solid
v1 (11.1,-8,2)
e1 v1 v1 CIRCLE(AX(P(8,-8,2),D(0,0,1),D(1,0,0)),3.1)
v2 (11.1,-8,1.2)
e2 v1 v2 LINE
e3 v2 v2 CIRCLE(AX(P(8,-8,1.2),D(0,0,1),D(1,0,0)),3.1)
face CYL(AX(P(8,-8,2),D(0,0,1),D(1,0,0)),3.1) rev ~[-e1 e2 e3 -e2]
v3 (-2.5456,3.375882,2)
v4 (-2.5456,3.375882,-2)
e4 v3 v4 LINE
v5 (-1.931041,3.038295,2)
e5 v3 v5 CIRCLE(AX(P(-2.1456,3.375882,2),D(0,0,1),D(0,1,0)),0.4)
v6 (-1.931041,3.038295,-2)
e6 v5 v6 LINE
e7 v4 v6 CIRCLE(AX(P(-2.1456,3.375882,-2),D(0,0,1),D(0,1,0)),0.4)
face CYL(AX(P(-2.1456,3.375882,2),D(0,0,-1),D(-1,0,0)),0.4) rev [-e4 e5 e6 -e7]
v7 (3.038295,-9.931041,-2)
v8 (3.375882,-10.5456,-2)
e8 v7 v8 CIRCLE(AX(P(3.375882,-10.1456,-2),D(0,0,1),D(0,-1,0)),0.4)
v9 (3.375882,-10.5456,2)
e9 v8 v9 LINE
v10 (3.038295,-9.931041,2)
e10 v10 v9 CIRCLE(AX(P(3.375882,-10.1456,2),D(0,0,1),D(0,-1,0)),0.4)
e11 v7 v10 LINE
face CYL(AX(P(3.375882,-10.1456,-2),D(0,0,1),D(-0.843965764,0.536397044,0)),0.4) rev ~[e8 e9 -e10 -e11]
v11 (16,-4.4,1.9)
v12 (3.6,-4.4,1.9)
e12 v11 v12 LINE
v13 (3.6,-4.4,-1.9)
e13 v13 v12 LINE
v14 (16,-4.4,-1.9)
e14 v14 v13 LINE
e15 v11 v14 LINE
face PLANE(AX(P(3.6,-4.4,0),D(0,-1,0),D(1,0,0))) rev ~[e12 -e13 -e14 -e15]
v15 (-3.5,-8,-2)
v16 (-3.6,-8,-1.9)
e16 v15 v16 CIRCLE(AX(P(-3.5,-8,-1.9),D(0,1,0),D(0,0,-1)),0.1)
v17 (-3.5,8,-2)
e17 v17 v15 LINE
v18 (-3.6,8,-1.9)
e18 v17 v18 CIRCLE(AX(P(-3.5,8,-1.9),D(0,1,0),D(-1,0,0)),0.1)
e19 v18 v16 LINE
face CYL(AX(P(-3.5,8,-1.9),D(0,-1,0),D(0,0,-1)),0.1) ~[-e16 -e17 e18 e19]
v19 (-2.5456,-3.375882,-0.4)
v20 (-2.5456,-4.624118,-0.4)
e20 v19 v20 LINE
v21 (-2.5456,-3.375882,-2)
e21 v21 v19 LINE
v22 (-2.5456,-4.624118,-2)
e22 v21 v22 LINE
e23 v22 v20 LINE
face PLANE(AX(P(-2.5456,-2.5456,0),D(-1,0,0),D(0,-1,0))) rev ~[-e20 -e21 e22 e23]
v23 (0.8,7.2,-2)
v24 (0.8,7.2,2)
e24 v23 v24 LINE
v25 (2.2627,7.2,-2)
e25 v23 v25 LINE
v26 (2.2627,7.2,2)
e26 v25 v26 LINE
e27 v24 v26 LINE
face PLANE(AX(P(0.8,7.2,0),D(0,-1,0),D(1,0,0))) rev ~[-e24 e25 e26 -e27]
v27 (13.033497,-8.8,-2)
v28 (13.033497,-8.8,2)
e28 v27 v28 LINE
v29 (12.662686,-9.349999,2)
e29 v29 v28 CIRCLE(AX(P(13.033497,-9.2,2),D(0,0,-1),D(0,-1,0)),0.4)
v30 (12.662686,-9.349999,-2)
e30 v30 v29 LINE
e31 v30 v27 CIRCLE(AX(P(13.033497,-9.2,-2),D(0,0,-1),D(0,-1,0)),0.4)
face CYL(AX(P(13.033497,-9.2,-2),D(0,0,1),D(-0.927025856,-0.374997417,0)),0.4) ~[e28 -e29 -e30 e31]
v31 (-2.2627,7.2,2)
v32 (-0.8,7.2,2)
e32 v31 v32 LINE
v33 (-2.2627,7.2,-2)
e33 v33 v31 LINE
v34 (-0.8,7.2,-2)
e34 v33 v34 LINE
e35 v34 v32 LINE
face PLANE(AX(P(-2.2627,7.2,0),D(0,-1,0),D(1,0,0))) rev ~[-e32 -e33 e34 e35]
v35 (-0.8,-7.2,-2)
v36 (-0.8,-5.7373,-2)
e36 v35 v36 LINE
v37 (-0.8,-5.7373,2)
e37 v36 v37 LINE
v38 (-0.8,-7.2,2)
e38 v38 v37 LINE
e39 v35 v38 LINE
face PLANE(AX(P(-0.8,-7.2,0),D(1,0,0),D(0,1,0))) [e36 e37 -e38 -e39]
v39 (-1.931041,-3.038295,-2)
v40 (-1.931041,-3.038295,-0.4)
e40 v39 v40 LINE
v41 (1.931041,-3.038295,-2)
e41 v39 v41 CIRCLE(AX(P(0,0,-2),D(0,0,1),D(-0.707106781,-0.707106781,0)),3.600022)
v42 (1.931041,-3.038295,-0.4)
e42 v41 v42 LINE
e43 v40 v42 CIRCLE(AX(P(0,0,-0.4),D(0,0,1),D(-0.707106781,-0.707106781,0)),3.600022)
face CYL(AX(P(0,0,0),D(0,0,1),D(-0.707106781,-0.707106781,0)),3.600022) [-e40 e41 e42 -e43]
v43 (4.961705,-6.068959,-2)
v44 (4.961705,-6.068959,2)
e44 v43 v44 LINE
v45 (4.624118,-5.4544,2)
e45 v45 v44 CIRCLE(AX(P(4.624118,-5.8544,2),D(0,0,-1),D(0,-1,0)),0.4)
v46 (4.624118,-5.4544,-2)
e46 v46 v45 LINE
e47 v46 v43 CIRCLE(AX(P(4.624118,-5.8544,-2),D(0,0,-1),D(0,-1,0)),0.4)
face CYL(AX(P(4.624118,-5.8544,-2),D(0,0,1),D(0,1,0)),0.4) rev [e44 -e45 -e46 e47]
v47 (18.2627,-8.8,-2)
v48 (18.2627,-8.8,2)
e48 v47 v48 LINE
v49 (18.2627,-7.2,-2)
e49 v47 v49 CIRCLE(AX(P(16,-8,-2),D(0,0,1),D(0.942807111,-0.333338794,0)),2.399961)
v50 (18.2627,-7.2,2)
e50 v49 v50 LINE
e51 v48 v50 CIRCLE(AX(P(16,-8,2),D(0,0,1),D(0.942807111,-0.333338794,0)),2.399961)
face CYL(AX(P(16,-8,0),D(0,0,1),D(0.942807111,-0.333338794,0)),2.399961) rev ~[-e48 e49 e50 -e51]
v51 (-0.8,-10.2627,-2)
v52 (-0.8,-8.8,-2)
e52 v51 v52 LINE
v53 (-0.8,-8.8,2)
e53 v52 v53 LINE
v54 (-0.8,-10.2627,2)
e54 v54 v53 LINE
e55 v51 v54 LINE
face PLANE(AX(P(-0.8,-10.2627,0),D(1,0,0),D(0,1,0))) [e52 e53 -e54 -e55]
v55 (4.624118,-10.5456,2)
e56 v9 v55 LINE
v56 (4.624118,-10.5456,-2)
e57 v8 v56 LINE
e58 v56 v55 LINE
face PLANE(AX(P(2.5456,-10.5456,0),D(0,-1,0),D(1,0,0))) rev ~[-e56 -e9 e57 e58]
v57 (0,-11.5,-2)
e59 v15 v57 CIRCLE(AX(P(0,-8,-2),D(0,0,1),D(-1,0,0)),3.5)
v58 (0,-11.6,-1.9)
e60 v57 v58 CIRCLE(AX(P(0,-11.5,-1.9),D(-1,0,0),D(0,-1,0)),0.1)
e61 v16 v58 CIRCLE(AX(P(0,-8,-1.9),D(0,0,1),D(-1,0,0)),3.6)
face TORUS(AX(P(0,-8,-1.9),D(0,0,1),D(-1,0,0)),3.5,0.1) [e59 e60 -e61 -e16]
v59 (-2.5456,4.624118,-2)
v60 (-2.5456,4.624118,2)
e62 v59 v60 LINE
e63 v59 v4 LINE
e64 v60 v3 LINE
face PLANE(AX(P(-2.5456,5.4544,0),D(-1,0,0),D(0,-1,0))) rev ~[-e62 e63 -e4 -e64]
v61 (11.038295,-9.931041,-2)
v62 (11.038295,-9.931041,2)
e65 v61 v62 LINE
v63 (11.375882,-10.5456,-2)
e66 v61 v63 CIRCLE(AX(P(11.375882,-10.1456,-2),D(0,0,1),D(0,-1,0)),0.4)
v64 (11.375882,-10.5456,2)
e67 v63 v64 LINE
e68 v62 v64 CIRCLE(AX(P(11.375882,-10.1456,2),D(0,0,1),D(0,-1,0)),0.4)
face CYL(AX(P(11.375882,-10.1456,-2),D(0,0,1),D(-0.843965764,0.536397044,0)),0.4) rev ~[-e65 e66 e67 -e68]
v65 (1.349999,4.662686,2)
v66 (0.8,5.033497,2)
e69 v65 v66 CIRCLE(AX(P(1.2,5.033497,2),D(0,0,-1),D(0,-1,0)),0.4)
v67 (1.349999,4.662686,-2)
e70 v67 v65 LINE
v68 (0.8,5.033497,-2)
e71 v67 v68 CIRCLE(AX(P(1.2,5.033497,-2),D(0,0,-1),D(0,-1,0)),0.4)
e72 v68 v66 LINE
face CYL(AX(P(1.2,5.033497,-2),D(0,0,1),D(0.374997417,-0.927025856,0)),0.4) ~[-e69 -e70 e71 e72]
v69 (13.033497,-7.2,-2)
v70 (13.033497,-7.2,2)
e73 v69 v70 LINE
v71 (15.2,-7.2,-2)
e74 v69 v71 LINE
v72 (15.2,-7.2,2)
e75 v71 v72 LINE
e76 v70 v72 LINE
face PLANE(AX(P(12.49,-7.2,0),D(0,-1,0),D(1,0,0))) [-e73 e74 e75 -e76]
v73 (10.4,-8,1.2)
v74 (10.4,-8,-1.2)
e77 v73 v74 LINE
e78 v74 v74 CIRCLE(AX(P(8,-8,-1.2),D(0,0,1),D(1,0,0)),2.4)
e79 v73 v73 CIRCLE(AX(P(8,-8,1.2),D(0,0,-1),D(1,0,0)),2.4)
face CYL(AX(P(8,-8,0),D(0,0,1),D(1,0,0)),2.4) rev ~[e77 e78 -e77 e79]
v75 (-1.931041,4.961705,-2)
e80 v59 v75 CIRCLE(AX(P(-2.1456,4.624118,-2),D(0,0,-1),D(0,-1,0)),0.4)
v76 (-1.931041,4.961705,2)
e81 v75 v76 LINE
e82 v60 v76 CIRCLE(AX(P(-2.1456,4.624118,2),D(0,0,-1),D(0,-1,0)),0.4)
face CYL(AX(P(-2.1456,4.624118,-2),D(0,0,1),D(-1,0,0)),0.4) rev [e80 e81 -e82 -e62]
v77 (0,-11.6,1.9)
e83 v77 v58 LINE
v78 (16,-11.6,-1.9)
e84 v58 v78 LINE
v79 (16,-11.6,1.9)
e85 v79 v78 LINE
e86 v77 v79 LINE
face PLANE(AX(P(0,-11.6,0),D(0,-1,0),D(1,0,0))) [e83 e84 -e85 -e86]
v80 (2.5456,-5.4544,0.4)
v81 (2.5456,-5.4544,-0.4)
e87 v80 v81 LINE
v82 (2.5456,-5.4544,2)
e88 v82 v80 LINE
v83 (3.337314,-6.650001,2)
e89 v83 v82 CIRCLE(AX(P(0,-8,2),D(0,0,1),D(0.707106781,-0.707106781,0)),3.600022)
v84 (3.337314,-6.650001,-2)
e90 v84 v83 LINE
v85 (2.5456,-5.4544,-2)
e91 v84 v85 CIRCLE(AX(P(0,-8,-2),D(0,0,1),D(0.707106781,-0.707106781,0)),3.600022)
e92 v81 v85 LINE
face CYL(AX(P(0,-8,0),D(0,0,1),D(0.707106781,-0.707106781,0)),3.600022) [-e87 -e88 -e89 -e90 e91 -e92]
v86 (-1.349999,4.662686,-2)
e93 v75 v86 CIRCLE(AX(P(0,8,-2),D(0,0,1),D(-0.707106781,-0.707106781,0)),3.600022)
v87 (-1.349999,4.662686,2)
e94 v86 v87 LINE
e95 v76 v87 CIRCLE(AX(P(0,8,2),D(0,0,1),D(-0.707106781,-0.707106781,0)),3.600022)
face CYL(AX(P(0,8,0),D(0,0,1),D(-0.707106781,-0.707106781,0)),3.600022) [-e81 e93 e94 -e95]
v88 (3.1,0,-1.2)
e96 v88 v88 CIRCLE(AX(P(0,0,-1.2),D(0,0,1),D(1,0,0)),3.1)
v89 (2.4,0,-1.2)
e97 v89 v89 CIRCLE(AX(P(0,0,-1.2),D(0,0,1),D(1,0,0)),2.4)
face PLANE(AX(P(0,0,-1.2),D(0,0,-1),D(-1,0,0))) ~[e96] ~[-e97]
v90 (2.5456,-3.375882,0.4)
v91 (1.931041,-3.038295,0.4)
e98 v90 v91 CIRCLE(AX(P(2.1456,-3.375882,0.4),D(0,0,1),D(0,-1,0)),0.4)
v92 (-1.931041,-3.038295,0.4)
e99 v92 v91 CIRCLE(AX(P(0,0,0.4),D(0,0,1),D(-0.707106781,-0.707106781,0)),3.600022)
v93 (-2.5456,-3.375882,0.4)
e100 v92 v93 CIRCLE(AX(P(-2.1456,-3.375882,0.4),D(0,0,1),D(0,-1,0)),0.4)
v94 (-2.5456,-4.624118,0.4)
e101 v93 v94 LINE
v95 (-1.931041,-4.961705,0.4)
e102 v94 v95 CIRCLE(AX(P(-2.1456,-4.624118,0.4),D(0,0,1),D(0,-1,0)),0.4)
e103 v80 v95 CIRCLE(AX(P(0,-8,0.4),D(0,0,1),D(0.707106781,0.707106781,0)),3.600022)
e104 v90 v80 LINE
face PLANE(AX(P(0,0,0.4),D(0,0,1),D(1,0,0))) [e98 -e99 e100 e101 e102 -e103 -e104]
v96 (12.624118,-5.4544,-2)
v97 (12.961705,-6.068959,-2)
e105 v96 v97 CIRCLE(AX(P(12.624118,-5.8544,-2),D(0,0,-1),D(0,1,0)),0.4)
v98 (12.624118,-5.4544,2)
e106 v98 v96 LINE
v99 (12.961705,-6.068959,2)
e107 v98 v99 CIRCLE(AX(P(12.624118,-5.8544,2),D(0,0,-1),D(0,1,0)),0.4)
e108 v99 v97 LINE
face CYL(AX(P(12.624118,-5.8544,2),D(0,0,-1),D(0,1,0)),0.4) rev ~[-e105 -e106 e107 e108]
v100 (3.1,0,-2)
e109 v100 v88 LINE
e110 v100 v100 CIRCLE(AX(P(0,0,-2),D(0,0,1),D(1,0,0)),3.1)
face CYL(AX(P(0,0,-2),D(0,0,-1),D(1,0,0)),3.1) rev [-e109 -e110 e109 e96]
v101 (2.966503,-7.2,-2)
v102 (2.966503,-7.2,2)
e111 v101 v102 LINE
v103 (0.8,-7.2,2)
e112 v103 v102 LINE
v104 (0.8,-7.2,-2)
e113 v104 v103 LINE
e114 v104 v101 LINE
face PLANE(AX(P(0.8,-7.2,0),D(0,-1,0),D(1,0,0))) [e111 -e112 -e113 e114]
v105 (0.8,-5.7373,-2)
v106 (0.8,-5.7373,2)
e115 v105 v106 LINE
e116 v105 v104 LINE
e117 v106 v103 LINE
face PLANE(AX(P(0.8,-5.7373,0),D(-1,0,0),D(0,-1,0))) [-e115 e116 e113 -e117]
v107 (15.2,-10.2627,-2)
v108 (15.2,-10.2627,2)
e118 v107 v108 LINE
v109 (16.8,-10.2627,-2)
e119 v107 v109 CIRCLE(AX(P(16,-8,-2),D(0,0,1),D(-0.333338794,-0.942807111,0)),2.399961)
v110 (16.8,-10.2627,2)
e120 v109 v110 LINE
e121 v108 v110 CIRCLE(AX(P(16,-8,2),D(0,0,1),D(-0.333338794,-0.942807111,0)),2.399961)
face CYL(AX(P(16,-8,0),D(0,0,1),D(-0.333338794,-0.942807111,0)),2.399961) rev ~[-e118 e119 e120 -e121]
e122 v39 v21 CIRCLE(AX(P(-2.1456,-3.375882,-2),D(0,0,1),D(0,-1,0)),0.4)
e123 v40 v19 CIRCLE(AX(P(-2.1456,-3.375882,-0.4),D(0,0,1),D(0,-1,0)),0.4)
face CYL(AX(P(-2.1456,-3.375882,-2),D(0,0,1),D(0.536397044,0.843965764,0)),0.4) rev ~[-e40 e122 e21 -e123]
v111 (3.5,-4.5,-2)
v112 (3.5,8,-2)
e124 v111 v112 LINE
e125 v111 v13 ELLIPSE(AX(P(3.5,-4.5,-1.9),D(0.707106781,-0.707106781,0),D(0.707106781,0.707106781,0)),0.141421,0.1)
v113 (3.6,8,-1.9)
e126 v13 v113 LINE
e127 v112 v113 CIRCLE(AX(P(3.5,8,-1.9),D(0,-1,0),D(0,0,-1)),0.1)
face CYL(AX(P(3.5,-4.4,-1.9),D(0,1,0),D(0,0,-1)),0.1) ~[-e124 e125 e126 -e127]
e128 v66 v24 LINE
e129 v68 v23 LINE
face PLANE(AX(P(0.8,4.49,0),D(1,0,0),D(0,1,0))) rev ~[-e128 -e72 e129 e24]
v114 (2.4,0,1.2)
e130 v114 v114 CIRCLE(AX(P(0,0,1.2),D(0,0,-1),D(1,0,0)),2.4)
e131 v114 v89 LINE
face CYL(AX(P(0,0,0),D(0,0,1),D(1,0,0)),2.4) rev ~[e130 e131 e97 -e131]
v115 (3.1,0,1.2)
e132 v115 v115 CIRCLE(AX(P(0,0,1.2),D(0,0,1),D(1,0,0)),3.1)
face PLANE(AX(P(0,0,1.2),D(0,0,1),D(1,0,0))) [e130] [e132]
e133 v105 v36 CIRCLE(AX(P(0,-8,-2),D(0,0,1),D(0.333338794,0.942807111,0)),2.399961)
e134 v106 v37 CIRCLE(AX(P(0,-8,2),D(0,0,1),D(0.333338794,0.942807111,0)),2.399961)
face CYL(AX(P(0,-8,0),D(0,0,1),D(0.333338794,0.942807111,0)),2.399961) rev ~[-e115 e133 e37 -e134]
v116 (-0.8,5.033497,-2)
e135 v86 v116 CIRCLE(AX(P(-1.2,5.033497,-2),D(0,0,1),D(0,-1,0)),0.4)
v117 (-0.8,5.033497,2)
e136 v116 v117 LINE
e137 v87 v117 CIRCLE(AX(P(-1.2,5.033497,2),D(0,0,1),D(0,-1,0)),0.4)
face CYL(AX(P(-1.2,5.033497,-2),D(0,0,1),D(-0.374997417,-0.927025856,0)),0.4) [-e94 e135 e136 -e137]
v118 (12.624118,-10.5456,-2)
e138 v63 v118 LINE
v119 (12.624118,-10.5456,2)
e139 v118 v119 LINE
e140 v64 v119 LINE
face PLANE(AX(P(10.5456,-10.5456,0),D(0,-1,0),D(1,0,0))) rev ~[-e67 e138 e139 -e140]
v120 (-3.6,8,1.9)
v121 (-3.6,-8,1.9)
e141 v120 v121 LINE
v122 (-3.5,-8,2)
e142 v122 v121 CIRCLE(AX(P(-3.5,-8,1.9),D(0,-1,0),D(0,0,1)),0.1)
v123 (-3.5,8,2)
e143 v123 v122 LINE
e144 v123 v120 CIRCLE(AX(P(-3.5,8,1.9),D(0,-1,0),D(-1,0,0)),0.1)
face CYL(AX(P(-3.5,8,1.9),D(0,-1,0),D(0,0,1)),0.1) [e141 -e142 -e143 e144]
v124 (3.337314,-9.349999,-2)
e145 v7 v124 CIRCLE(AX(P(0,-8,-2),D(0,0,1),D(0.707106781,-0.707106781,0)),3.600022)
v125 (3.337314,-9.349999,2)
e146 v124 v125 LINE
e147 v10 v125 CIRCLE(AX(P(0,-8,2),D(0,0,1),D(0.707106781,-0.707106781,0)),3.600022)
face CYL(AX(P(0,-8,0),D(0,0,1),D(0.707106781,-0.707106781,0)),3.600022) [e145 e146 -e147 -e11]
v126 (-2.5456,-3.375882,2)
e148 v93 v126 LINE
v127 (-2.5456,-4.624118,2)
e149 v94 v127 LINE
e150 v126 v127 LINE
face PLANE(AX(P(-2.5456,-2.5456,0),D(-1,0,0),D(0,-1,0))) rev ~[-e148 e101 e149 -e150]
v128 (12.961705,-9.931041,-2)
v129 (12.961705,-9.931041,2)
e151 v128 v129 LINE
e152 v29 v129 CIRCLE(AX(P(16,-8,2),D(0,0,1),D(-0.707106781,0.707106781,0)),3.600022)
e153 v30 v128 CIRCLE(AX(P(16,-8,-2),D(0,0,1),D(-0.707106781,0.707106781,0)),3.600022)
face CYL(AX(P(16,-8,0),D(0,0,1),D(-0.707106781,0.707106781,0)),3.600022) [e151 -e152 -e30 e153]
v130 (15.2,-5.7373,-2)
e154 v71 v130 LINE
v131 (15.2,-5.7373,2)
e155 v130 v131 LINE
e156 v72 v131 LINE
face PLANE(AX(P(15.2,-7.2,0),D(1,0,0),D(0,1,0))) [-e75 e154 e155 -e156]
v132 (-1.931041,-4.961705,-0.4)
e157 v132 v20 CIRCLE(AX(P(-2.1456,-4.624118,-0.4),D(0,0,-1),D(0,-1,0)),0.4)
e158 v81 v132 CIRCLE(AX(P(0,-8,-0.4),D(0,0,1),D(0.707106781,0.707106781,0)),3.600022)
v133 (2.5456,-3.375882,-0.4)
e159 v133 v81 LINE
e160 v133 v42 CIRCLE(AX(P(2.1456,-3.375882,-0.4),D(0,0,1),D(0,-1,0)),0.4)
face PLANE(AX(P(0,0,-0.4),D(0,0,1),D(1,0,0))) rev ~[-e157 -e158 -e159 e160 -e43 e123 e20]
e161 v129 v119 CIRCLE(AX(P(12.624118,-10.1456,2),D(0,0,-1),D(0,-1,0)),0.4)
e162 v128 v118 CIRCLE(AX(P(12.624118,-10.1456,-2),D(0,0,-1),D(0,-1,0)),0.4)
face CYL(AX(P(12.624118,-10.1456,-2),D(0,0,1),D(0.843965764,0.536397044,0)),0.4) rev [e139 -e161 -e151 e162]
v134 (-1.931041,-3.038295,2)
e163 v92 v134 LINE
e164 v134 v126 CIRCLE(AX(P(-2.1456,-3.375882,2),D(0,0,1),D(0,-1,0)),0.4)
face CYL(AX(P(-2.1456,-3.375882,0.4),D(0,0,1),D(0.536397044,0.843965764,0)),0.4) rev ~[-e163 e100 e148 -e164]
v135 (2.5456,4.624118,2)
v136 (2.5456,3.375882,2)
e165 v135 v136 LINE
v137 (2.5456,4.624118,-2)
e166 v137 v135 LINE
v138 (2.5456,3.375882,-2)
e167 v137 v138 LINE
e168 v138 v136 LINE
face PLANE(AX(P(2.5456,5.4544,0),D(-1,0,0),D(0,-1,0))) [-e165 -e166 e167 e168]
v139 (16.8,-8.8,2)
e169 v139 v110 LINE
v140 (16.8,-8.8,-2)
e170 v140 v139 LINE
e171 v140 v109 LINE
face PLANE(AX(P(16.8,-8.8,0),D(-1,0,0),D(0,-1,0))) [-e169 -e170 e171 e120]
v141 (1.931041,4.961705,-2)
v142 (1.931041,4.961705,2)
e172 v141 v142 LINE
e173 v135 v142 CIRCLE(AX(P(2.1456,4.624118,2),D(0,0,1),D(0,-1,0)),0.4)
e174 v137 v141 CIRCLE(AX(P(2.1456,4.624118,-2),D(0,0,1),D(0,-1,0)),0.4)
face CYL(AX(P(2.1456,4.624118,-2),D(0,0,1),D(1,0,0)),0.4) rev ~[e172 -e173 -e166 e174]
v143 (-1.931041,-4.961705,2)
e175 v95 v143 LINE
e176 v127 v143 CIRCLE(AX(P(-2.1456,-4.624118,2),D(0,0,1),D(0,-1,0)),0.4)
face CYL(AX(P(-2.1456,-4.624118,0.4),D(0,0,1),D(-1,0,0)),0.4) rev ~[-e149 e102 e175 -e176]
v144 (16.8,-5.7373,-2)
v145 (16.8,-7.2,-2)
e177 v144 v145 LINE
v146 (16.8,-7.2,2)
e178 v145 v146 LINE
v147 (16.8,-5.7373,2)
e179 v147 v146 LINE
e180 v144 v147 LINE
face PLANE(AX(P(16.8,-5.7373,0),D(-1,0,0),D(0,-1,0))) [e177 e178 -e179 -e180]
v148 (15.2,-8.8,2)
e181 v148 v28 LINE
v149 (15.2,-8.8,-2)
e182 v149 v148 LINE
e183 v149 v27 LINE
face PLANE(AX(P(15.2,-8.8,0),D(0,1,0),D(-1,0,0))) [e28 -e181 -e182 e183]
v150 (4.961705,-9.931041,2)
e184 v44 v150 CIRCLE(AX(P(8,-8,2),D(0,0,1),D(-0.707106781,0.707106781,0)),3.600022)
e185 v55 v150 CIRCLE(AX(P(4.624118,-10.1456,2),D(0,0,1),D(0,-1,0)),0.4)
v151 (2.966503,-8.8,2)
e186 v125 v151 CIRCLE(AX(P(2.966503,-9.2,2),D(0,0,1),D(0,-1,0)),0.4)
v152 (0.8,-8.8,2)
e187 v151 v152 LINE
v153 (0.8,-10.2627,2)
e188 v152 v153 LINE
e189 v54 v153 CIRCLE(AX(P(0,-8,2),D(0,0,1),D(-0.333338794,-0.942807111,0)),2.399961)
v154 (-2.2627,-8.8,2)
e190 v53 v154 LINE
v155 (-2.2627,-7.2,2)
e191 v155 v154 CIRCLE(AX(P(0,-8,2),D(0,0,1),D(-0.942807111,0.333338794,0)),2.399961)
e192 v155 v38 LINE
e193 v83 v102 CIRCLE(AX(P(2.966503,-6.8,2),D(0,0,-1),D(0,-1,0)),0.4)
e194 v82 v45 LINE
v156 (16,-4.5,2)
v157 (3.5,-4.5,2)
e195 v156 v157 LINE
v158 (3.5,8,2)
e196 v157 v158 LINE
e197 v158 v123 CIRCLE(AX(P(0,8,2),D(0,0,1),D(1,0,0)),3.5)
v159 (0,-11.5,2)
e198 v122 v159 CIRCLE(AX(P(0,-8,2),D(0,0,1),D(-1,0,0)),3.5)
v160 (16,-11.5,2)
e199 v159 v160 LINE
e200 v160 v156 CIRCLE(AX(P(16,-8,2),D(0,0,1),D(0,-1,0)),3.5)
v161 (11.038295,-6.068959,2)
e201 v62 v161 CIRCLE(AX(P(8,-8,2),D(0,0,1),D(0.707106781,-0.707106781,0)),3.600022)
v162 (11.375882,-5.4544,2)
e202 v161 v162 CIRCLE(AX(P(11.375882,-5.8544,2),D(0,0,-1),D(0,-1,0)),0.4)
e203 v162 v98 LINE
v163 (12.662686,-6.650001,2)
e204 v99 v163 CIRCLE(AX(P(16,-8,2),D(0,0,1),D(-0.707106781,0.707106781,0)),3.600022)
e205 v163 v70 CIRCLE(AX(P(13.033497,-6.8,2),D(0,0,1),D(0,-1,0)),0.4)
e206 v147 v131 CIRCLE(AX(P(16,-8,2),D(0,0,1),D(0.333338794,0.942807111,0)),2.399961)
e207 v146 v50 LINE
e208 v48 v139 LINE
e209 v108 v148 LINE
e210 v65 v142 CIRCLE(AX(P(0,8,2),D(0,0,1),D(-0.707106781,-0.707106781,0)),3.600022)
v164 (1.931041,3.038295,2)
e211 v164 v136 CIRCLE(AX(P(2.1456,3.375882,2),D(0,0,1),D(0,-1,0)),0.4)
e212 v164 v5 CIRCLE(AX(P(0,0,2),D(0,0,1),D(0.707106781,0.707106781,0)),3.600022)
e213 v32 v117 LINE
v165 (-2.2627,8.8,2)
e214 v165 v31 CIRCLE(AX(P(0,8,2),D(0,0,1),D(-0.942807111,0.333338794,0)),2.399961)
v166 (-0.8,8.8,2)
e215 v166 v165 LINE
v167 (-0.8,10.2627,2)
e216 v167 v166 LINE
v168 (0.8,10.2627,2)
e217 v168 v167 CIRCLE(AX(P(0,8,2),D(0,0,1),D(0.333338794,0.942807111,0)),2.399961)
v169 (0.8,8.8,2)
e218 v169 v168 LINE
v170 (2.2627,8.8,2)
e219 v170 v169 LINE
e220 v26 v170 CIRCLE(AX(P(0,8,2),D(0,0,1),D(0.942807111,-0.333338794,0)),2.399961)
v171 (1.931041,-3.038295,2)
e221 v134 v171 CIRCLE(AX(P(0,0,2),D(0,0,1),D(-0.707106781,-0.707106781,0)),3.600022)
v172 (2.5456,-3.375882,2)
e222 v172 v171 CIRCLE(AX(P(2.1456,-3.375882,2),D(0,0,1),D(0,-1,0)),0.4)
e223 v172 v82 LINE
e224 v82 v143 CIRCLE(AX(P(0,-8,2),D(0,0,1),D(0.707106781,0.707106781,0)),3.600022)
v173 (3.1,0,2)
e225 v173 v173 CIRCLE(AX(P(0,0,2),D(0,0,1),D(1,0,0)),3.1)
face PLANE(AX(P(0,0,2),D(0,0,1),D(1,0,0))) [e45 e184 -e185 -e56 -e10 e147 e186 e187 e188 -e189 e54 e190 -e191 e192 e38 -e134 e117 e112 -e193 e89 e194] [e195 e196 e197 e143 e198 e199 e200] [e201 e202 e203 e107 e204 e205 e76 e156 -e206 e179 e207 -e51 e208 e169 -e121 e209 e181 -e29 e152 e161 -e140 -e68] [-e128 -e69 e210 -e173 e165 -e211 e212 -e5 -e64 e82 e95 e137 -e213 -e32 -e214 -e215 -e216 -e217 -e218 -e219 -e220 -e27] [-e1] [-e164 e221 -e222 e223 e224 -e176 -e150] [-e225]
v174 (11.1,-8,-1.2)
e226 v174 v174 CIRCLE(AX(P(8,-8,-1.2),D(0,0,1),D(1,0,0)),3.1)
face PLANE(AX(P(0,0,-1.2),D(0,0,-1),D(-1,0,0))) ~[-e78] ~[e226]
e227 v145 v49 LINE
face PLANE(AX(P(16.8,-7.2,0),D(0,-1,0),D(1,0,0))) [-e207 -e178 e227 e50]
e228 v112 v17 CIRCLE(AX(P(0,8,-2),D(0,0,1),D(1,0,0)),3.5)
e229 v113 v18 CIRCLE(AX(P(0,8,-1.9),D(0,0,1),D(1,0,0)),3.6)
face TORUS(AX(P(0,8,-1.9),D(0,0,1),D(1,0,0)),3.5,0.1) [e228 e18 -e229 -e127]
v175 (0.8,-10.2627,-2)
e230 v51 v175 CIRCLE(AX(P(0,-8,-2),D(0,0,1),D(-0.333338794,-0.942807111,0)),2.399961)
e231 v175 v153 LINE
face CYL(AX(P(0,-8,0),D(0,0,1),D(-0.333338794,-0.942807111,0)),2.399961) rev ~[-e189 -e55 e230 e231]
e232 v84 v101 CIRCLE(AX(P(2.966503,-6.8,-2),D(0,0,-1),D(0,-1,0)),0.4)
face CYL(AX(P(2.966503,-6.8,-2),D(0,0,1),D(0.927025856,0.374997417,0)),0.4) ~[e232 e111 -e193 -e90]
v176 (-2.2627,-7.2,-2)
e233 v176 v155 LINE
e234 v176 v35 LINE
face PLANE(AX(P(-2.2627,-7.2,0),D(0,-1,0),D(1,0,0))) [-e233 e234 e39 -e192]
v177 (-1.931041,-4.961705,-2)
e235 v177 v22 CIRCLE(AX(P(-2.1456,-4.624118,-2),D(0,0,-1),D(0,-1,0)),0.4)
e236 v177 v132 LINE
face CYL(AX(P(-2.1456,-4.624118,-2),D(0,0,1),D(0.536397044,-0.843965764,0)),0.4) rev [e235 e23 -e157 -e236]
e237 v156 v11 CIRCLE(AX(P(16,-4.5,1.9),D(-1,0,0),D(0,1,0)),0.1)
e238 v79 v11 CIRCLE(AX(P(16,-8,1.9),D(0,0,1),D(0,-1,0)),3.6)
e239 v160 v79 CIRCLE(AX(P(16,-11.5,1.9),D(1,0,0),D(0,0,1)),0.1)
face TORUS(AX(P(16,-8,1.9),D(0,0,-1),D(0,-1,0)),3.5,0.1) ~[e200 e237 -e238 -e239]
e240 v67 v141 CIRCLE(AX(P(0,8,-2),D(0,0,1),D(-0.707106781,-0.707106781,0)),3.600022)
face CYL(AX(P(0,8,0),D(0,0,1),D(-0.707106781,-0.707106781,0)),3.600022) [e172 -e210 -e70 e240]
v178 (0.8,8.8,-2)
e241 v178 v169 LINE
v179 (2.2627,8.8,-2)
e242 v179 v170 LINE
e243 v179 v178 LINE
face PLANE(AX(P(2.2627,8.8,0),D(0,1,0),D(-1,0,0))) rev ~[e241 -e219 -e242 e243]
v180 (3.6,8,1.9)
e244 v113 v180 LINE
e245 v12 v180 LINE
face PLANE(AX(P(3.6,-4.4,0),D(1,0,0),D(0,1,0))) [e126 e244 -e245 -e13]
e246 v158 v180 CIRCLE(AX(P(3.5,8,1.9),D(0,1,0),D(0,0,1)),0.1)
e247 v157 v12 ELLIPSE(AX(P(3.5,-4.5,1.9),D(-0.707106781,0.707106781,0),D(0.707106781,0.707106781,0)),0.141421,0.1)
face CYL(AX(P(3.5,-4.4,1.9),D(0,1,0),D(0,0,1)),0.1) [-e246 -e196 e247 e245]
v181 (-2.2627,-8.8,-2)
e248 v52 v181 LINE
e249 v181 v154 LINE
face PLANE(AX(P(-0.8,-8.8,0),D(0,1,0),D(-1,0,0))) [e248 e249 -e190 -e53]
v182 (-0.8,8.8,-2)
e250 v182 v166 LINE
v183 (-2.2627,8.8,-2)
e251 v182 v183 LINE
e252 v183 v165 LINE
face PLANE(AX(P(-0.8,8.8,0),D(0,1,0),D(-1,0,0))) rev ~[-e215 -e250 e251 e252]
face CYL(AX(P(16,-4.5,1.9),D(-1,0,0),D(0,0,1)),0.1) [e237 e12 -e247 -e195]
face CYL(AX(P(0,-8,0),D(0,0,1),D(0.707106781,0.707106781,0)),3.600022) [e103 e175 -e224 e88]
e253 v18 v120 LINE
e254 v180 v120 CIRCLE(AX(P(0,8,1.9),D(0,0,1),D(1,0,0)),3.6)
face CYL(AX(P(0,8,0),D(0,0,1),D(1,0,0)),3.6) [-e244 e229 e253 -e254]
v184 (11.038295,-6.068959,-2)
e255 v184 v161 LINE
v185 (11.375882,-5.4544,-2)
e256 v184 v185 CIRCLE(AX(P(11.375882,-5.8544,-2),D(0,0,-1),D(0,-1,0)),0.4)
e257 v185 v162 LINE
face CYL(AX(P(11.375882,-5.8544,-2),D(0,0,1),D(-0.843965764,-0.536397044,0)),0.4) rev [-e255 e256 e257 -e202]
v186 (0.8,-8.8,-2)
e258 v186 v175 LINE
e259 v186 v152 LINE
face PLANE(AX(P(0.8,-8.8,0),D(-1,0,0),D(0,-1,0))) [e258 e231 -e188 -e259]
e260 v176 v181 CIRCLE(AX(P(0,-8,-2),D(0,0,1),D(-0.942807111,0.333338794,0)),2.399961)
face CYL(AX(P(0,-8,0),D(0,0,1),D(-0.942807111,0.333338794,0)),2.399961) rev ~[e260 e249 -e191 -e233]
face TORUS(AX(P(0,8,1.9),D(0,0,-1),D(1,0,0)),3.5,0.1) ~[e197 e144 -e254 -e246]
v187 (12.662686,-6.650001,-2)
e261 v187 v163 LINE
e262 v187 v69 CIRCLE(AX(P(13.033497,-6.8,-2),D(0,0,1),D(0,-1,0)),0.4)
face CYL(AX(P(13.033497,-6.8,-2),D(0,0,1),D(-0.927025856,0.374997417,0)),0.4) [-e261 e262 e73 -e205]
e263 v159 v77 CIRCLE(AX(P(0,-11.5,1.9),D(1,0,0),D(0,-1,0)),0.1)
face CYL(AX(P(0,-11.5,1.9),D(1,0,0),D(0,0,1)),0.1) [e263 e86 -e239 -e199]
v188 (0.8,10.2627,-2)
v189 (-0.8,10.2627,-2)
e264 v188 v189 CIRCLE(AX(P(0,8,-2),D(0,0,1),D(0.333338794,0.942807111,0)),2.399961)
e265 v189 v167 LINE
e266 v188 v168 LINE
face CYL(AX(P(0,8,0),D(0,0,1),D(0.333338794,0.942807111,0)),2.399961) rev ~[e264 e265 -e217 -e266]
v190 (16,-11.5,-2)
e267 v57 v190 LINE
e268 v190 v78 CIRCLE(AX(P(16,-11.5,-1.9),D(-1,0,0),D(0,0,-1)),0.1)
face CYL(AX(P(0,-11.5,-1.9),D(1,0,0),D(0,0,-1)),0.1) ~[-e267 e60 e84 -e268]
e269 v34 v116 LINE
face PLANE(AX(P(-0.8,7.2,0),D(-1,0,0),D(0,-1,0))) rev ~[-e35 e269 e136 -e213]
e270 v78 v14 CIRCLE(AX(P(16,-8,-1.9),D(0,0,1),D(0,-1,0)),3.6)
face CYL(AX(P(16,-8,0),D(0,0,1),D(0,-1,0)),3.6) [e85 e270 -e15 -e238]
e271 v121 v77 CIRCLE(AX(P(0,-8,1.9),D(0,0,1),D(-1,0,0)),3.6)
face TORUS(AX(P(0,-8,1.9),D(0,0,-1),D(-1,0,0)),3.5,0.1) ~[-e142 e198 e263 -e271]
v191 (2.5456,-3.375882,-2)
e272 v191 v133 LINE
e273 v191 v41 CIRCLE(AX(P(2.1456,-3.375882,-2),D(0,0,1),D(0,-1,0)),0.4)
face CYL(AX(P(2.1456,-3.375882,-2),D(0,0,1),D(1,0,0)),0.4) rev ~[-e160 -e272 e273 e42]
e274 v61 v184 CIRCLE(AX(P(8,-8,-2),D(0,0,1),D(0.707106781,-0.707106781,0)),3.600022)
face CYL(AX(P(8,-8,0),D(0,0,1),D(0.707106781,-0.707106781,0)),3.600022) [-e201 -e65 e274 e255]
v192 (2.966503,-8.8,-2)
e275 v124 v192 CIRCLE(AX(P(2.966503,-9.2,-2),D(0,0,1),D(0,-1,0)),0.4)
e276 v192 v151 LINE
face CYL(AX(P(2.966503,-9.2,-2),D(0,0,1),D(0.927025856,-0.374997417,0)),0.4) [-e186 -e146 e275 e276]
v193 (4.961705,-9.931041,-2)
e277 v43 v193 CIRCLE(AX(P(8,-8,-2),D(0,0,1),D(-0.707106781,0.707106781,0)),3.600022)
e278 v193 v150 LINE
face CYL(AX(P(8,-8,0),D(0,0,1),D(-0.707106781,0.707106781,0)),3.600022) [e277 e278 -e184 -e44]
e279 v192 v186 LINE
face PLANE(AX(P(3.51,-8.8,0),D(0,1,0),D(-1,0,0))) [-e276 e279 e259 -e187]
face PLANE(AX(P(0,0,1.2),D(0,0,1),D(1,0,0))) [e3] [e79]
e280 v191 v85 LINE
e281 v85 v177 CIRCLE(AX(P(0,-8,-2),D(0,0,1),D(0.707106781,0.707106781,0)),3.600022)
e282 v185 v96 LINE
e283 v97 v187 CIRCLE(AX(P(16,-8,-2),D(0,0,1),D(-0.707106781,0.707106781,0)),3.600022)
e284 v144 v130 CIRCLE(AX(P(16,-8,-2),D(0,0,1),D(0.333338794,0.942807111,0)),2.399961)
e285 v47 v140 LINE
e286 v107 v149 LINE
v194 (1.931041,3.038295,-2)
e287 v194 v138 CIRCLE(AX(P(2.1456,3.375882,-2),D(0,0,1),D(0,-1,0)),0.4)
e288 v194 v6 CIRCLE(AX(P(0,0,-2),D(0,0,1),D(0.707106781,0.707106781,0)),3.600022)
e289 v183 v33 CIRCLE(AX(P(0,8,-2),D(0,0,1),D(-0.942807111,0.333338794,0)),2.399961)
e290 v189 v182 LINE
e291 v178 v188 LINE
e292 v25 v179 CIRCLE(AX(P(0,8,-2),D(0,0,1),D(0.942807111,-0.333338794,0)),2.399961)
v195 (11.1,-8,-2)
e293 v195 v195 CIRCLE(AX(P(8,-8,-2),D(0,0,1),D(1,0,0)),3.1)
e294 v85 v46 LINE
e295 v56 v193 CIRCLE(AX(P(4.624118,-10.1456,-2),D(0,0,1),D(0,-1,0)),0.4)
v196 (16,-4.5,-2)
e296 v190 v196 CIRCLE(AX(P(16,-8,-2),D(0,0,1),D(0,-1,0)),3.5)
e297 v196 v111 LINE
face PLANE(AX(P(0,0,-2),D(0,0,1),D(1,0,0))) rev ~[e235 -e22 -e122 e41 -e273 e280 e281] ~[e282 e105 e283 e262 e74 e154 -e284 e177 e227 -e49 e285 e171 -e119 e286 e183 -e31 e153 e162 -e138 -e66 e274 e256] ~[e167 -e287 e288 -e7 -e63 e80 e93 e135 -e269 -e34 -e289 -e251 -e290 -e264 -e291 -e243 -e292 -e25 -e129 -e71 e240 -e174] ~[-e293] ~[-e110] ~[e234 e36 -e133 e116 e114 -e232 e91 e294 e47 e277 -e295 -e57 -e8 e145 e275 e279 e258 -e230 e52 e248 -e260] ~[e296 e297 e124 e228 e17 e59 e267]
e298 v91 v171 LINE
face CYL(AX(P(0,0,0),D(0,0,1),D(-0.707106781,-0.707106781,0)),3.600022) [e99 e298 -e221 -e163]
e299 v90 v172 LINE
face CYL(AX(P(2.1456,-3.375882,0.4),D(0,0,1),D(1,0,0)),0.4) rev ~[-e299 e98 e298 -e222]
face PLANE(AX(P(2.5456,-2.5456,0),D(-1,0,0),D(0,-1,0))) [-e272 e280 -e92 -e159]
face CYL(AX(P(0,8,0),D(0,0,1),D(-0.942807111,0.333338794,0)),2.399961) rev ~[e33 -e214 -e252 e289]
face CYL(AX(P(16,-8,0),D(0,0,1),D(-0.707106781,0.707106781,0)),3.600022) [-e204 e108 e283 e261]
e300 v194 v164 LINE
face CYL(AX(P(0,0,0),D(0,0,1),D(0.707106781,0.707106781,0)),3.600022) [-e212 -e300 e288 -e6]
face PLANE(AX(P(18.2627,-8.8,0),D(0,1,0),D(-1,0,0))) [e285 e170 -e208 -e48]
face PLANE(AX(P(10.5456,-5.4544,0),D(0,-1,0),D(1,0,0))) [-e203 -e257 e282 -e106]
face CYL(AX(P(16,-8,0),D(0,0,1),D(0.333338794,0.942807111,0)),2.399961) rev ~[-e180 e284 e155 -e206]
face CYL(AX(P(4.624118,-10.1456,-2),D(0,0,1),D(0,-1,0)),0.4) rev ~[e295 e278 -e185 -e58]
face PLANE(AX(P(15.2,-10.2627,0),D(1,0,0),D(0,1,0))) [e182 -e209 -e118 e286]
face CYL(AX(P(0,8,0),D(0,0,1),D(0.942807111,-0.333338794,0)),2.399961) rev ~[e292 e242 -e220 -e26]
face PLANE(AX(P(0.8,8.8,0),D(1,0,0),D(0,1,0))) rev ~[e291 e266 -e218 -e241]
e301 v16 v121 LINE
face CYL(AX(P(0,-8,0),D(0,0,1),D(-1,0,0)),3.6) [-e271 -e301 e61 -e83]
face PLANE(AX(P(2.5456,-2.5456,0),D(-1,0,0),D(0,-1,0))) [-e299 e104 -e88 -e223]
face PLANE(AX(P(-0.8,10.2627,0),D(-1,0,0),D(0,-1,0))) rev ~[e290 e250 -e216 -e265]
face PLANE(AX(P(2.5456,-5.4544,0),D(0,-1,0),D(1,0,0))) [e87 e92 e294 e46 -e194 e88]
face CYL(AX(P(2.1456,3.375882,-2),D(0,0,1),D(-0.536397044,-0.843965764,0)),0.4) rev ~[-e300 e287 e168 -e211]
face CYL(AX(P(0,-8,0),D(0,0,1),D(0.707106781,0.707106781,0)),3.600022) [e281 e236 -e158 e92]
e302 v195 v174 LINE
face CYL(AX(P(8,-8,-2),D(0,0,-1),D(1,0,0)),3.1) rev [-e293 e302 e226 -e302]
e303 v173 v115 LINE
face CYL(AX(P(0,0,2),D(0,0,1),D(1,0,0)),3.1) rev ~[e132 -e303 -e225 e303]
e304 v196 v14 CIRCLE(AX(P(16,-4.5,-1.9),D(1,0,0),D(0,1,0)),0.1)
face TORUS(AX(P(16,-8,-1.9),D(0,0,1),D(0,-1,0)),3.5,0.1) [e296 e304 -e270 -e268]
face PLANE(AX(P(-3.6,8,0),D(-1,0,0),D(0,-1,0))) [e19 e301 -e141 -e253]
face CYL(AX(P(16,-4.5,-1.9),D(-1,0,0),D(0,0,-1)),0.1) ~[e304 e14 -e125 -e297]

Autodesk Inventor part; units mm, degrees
ref_plane "YZ Plane" through (0, 0, 0) normal (1, 0, 0) x (0, 1, 0)
ref_plane "XZ Plane" through (0, 0, 0) normal (0, 1, 0) x (-1, 0, 0)
ref_plane "XY Plane" through (0, 0, 0) normal (0, 0, 1) x (1, 0, 0)
sketch "Sketch1" plane through (0, 0, 0) normal (0, 0, 1) x (1, 0, 0)
  line L0 (3.6, -4.4) -> (3.6, 8)
  line L1 (-3.6, 8) -> (-3.6, -8)
  arc A0 (3.6, 8) -> (-3.6, 8) centre (0, 8) ccw
  circle A1 centre (0, 8) radius 2.4 construction
  circle A2 centre (0, 8) radius 3.2 construction
  circle A3 centre (0, 0) radius 3.2
  circle A4 centre (0, 0) radius 2.4
  line L2 (0, 0) -> (0, 8) construction
  line L3 (-2.5456, 5.4544) -> (-2.5456, 2.5456)
  line L4 (2.5456, 5.4544) -> (2.5456, 2.5456)
  arc A5 (-2.5456, 5.4544) -> (2.5456, 5.4544) centre (0, 8) ccw
  arc A6 (2.5456, 2.5456) -> (-2.5456, 2.5456) centre (0, 0) ccw
  arc A7 (-3.6, -8) -> (0, -11.6) centre (0, -8) ccw
  circle A8 centre (0, -8) radius 3.2 construction
  circle A9 centre (0, -8) radius 2.4 construction
  line L5 (0, 0) -> (0, -8) construction
  line L6 (-2.5456, -2.5456) -> (-2.5456, -5.4544)
  line L7 (2.5456, -2.5456) -> (2.5456, -5.4544)
  arc A10 (-2.5456, -2.5456) -> (2.5456, -2.5456) centre (0, 0) ccw
  arc A11 (2.5456, -5.4544) -> (-2.5456, -5.4544) centre (0, -8) ccw
  line L8 (0.8, 4.49) -> (0.8, 7.2)
  line L9 (0.8, 7.2) -> (2.2627, 7.2)
  line L10 (2.2627, 8.8) -> (0.8, 8.8)
  line L11 (0.8, 8.8) -> (0.8, 10.2627)
  line L12 (-0.8, 10.2627) -> (-0.8, 8.8)
  line L13 (-0.8, 8.8) -> (-2.2627, 8.8)
  line L14 (-2.2627, 7.2) -> (-0.8, 7.2)
  line L15 (-0.8, 7.2) -> (-0.8, 4.49)
  arc A12 (-2.2627, 8.8) -> (-2.2627, 7.2) centre (0, 8) ccw
  arc A13 (0.8, 10.2627) -> (-0.8, 10.2627) centre (0, 8) ccw
  arc A14 (2.2627, 7.2) -> (2.2627, 8.8) centre (0, 8) ccw
  line L16 (-0.8, -10.2627) -> (-0.8, -8.8)
  line L17 (-0.8, -8.8) -> (-2.2627, -8.8)
  line L18 (-2.2627, -7.2) -> (-0.8, -7.2)
  line L19 (-0.8, -7.2) -> (-0.8, -5.7373)
  line L20 (0.8, -5.7373) -> (0.8, -7.2)
  line L21 (0.8, -7.2) -> (3.51, -7.2)
  line L22 (3.51, -8.8) -> (0.8, -8.8)
  line L23 (0.8, -8.8) -> (0.8, -10.2627)
  arc A15 (-2.2627, -7.2) -> (-2.2627, -8.8) centre (0, -8) ccw
  arc A16 (-0.8, -10.2627) -> (0.8, -10.2627) centre (0, -8) ccw
  line L24 (0, -11.6) -> (16, -11.6)
  arc A17 (16, -11.6) -> (16, -4.4) centre (16, -8) ccw
  arc A18 (0.8, -5.7373) -> (-0.8, -5.7373) centre (0, -8) ccw
  line L25 (2.5456, -5.4544) -> (5.4544, -5.4544)
  line L26 (2.5456, -10.5456) -> (5.4544, -10.5456)
  arc A19 (2.5456, -10.5456) -> (2.5456, -5.4544) centre (0, -8) ccw
  circle A20 centre (8, -8) radius 3.2
  circle A21 centre (16, -8) radius 3.2 construction
  circle A22 centre (16, -8) radius 2.4 construction
  line L27 (0, -8) -> (8, -8) construction
  line L28 (8, -8) -> (16, -8) construction
  circle A23 centre (8, -8) radius 2.4
  line L29 (12.49, -7.2) -> (15.2, -7.2)
  line L30 (15.2, -7.2) -> (15.2, -5.7373)
  line L31 (16.8, -5.7373) -> (16.8, -7.2)
  line L32 (16.8, -7.2) -> (18.2627, -7.2)
  line L33 (18.2627, -8.8) -> (16.8, -8.8)
  line L34 (16.8, -8.8) -> (16.8, -10.2627)
  line L35 (15.2, -10.2627) -> (15.2, -8.8)
  line L36 (15.2, -8.8) -> (12.49, -8.8)
  arc A24 (10.5456, -10.5456) -> (10.5456, -5.4544) centre (8, -8) ccw
  arc A25 (13.4544, -5.4544) -> (13.4544, -10.5456) centre (16, -8) ccw
  arc A26 (16.8, -5.7373) -> (15.2, -5.7373) centre (16, -8) ccw
  arc A27 (18.2627, -8.8) -> (18.2627, -7.2) centre (16, -8) ccw
  arc A28 (15.2, -10.2627) -> (16.8, -10.2627) centre (16, -8) ccw
  arc A29 (5.4544, -5.4544) -> (5.4544, -10.5456) centre (8, -8) ccw
  line L37 (10.5456, -5.4544) -> (13.4544, -5.4544)
  line L38 (10.5456, -10.5456) -> (13.4544, -10.5456)
  line L39 (3.6, -4.4) -> (16, -4.4)
  dimension "d8" = 4.8
  dimension "d9" = 6.4
  dimension "d32" = 7.2
  dimension "d34" = 8
  dimension "d52" = 1.6
  dimension "d56" = 1.6
  dimension "d57" = 1.6
  dimension "d58" = 1.6
extrude "Extrusion1" add sketch "Sketch1" along normal mid plane 4 contours L39 A17 L24 A7 L1 A0 L0 | A3 | A20
extrude "Extrusion9" add sketch "Sketch1" along normal mid plane 0.8 contours A10 L7 A11 L6
sketch "Sketch6" plane through (0, 0, 2) normal (0, 0, 1) x (1, 0, 0)
  circle A0 centre (0, 0) radius 3.1
  circle A1 centre (0, 0) radius 2.4 projected
  circle A2 centre (8, -8) radius 3.1
  circle A3 centre (16, -8) radius 3.1
  arc A4 (16, -11.6) -> (16, -4.4) centre (16, -8) ccw projected
  arc A5 (5.4544, -5.4544) -> (5.4544, -10.5456) centre (8, -8) ccw projected
  dimension "d53" = 6.2
extrude "Extrusion7" cut sketch "Sketch6" against normal blind 0.8 contours A0 | A1 | A2
mirror "Mirror1" about plane through (0, 0, 0) normal (0, 0, 1) of "Extrusion7"
fillet "Fillet1" radius 0.1 14 edges at (0, 11.6, 2) (-3.6, 0, 2) (0, 11.6, -2) (-3.6, 0, -2) (3.6, 1.8, 2) (3.6, 1.8, -2) (19.6, -8, 2) (19.6, -8, -2) (8, -11.6, 2) (-2.5456, -10.5456, 2) (-2.5456, -10.5456, -2) (8, -11.6, -2) (9.8, -4.4, -2) (9.8, -4.4, 2)
fillet "Fillet1" radius 0.4 23 edges at (-2.5456, -2.5456, -1.2) (-2.5456, -2.5456, 1.2) (-2.5456, -5.4544, 1.2) (-2.5456, -5.4544, -1.2) (2.5456, -2.5456, 1.2) (2.5456, -2.5456, -1.2) (-2.5456, 5.4544, 0) (-2.5456, 2.5456, 0) (2.5456, 2.5456, 0) (2.5456, 5.4544, 0) (0.8, 4.49, 0) (-0.8, 4.49, 0) (10.5456, -10.5456, 0) (10.5456, -5.4544, 0) (13.4544, -5.4544, 0) (12.49, -7.2, 0) (12.49, -8.8, 0) (13.4544, -10.5456, 0) (2.5456, -10.5456, 0) (5.4544, -10.5456, 0) (3.51, -8.8, 0) (3.51, -7.2, 0) (5.4544, -5.4544, 0)
equation "\"d8\" = kd"
equation "\"d9\" = tsd"
equation "\"d32\" = tlad"
equation "\"d34\" = lu"
equation "\"d52\" = axlet"
equation "\"d56\" = axlet"
equation "\"d57\" = axlet"
equation "\"d58\" = d57"
equation "\"d14\" = 0.5 * lu"
equation "\"d41\" = tsl"
equation "\"lf\" = 0.1"
equation "\"tf\" = 0.4"
equation "\"kd\" = 4.8"
equation "\"tsd\" = 6.4"
equation "\"tlad\" = 7.2"
equation "\"lu\" = 8"
equation "\"axlet\" = 1.6"
equation "\"tsl\" = 0.8"
properties part number "32056-DkBluishGray" material "ABS Plastic"
